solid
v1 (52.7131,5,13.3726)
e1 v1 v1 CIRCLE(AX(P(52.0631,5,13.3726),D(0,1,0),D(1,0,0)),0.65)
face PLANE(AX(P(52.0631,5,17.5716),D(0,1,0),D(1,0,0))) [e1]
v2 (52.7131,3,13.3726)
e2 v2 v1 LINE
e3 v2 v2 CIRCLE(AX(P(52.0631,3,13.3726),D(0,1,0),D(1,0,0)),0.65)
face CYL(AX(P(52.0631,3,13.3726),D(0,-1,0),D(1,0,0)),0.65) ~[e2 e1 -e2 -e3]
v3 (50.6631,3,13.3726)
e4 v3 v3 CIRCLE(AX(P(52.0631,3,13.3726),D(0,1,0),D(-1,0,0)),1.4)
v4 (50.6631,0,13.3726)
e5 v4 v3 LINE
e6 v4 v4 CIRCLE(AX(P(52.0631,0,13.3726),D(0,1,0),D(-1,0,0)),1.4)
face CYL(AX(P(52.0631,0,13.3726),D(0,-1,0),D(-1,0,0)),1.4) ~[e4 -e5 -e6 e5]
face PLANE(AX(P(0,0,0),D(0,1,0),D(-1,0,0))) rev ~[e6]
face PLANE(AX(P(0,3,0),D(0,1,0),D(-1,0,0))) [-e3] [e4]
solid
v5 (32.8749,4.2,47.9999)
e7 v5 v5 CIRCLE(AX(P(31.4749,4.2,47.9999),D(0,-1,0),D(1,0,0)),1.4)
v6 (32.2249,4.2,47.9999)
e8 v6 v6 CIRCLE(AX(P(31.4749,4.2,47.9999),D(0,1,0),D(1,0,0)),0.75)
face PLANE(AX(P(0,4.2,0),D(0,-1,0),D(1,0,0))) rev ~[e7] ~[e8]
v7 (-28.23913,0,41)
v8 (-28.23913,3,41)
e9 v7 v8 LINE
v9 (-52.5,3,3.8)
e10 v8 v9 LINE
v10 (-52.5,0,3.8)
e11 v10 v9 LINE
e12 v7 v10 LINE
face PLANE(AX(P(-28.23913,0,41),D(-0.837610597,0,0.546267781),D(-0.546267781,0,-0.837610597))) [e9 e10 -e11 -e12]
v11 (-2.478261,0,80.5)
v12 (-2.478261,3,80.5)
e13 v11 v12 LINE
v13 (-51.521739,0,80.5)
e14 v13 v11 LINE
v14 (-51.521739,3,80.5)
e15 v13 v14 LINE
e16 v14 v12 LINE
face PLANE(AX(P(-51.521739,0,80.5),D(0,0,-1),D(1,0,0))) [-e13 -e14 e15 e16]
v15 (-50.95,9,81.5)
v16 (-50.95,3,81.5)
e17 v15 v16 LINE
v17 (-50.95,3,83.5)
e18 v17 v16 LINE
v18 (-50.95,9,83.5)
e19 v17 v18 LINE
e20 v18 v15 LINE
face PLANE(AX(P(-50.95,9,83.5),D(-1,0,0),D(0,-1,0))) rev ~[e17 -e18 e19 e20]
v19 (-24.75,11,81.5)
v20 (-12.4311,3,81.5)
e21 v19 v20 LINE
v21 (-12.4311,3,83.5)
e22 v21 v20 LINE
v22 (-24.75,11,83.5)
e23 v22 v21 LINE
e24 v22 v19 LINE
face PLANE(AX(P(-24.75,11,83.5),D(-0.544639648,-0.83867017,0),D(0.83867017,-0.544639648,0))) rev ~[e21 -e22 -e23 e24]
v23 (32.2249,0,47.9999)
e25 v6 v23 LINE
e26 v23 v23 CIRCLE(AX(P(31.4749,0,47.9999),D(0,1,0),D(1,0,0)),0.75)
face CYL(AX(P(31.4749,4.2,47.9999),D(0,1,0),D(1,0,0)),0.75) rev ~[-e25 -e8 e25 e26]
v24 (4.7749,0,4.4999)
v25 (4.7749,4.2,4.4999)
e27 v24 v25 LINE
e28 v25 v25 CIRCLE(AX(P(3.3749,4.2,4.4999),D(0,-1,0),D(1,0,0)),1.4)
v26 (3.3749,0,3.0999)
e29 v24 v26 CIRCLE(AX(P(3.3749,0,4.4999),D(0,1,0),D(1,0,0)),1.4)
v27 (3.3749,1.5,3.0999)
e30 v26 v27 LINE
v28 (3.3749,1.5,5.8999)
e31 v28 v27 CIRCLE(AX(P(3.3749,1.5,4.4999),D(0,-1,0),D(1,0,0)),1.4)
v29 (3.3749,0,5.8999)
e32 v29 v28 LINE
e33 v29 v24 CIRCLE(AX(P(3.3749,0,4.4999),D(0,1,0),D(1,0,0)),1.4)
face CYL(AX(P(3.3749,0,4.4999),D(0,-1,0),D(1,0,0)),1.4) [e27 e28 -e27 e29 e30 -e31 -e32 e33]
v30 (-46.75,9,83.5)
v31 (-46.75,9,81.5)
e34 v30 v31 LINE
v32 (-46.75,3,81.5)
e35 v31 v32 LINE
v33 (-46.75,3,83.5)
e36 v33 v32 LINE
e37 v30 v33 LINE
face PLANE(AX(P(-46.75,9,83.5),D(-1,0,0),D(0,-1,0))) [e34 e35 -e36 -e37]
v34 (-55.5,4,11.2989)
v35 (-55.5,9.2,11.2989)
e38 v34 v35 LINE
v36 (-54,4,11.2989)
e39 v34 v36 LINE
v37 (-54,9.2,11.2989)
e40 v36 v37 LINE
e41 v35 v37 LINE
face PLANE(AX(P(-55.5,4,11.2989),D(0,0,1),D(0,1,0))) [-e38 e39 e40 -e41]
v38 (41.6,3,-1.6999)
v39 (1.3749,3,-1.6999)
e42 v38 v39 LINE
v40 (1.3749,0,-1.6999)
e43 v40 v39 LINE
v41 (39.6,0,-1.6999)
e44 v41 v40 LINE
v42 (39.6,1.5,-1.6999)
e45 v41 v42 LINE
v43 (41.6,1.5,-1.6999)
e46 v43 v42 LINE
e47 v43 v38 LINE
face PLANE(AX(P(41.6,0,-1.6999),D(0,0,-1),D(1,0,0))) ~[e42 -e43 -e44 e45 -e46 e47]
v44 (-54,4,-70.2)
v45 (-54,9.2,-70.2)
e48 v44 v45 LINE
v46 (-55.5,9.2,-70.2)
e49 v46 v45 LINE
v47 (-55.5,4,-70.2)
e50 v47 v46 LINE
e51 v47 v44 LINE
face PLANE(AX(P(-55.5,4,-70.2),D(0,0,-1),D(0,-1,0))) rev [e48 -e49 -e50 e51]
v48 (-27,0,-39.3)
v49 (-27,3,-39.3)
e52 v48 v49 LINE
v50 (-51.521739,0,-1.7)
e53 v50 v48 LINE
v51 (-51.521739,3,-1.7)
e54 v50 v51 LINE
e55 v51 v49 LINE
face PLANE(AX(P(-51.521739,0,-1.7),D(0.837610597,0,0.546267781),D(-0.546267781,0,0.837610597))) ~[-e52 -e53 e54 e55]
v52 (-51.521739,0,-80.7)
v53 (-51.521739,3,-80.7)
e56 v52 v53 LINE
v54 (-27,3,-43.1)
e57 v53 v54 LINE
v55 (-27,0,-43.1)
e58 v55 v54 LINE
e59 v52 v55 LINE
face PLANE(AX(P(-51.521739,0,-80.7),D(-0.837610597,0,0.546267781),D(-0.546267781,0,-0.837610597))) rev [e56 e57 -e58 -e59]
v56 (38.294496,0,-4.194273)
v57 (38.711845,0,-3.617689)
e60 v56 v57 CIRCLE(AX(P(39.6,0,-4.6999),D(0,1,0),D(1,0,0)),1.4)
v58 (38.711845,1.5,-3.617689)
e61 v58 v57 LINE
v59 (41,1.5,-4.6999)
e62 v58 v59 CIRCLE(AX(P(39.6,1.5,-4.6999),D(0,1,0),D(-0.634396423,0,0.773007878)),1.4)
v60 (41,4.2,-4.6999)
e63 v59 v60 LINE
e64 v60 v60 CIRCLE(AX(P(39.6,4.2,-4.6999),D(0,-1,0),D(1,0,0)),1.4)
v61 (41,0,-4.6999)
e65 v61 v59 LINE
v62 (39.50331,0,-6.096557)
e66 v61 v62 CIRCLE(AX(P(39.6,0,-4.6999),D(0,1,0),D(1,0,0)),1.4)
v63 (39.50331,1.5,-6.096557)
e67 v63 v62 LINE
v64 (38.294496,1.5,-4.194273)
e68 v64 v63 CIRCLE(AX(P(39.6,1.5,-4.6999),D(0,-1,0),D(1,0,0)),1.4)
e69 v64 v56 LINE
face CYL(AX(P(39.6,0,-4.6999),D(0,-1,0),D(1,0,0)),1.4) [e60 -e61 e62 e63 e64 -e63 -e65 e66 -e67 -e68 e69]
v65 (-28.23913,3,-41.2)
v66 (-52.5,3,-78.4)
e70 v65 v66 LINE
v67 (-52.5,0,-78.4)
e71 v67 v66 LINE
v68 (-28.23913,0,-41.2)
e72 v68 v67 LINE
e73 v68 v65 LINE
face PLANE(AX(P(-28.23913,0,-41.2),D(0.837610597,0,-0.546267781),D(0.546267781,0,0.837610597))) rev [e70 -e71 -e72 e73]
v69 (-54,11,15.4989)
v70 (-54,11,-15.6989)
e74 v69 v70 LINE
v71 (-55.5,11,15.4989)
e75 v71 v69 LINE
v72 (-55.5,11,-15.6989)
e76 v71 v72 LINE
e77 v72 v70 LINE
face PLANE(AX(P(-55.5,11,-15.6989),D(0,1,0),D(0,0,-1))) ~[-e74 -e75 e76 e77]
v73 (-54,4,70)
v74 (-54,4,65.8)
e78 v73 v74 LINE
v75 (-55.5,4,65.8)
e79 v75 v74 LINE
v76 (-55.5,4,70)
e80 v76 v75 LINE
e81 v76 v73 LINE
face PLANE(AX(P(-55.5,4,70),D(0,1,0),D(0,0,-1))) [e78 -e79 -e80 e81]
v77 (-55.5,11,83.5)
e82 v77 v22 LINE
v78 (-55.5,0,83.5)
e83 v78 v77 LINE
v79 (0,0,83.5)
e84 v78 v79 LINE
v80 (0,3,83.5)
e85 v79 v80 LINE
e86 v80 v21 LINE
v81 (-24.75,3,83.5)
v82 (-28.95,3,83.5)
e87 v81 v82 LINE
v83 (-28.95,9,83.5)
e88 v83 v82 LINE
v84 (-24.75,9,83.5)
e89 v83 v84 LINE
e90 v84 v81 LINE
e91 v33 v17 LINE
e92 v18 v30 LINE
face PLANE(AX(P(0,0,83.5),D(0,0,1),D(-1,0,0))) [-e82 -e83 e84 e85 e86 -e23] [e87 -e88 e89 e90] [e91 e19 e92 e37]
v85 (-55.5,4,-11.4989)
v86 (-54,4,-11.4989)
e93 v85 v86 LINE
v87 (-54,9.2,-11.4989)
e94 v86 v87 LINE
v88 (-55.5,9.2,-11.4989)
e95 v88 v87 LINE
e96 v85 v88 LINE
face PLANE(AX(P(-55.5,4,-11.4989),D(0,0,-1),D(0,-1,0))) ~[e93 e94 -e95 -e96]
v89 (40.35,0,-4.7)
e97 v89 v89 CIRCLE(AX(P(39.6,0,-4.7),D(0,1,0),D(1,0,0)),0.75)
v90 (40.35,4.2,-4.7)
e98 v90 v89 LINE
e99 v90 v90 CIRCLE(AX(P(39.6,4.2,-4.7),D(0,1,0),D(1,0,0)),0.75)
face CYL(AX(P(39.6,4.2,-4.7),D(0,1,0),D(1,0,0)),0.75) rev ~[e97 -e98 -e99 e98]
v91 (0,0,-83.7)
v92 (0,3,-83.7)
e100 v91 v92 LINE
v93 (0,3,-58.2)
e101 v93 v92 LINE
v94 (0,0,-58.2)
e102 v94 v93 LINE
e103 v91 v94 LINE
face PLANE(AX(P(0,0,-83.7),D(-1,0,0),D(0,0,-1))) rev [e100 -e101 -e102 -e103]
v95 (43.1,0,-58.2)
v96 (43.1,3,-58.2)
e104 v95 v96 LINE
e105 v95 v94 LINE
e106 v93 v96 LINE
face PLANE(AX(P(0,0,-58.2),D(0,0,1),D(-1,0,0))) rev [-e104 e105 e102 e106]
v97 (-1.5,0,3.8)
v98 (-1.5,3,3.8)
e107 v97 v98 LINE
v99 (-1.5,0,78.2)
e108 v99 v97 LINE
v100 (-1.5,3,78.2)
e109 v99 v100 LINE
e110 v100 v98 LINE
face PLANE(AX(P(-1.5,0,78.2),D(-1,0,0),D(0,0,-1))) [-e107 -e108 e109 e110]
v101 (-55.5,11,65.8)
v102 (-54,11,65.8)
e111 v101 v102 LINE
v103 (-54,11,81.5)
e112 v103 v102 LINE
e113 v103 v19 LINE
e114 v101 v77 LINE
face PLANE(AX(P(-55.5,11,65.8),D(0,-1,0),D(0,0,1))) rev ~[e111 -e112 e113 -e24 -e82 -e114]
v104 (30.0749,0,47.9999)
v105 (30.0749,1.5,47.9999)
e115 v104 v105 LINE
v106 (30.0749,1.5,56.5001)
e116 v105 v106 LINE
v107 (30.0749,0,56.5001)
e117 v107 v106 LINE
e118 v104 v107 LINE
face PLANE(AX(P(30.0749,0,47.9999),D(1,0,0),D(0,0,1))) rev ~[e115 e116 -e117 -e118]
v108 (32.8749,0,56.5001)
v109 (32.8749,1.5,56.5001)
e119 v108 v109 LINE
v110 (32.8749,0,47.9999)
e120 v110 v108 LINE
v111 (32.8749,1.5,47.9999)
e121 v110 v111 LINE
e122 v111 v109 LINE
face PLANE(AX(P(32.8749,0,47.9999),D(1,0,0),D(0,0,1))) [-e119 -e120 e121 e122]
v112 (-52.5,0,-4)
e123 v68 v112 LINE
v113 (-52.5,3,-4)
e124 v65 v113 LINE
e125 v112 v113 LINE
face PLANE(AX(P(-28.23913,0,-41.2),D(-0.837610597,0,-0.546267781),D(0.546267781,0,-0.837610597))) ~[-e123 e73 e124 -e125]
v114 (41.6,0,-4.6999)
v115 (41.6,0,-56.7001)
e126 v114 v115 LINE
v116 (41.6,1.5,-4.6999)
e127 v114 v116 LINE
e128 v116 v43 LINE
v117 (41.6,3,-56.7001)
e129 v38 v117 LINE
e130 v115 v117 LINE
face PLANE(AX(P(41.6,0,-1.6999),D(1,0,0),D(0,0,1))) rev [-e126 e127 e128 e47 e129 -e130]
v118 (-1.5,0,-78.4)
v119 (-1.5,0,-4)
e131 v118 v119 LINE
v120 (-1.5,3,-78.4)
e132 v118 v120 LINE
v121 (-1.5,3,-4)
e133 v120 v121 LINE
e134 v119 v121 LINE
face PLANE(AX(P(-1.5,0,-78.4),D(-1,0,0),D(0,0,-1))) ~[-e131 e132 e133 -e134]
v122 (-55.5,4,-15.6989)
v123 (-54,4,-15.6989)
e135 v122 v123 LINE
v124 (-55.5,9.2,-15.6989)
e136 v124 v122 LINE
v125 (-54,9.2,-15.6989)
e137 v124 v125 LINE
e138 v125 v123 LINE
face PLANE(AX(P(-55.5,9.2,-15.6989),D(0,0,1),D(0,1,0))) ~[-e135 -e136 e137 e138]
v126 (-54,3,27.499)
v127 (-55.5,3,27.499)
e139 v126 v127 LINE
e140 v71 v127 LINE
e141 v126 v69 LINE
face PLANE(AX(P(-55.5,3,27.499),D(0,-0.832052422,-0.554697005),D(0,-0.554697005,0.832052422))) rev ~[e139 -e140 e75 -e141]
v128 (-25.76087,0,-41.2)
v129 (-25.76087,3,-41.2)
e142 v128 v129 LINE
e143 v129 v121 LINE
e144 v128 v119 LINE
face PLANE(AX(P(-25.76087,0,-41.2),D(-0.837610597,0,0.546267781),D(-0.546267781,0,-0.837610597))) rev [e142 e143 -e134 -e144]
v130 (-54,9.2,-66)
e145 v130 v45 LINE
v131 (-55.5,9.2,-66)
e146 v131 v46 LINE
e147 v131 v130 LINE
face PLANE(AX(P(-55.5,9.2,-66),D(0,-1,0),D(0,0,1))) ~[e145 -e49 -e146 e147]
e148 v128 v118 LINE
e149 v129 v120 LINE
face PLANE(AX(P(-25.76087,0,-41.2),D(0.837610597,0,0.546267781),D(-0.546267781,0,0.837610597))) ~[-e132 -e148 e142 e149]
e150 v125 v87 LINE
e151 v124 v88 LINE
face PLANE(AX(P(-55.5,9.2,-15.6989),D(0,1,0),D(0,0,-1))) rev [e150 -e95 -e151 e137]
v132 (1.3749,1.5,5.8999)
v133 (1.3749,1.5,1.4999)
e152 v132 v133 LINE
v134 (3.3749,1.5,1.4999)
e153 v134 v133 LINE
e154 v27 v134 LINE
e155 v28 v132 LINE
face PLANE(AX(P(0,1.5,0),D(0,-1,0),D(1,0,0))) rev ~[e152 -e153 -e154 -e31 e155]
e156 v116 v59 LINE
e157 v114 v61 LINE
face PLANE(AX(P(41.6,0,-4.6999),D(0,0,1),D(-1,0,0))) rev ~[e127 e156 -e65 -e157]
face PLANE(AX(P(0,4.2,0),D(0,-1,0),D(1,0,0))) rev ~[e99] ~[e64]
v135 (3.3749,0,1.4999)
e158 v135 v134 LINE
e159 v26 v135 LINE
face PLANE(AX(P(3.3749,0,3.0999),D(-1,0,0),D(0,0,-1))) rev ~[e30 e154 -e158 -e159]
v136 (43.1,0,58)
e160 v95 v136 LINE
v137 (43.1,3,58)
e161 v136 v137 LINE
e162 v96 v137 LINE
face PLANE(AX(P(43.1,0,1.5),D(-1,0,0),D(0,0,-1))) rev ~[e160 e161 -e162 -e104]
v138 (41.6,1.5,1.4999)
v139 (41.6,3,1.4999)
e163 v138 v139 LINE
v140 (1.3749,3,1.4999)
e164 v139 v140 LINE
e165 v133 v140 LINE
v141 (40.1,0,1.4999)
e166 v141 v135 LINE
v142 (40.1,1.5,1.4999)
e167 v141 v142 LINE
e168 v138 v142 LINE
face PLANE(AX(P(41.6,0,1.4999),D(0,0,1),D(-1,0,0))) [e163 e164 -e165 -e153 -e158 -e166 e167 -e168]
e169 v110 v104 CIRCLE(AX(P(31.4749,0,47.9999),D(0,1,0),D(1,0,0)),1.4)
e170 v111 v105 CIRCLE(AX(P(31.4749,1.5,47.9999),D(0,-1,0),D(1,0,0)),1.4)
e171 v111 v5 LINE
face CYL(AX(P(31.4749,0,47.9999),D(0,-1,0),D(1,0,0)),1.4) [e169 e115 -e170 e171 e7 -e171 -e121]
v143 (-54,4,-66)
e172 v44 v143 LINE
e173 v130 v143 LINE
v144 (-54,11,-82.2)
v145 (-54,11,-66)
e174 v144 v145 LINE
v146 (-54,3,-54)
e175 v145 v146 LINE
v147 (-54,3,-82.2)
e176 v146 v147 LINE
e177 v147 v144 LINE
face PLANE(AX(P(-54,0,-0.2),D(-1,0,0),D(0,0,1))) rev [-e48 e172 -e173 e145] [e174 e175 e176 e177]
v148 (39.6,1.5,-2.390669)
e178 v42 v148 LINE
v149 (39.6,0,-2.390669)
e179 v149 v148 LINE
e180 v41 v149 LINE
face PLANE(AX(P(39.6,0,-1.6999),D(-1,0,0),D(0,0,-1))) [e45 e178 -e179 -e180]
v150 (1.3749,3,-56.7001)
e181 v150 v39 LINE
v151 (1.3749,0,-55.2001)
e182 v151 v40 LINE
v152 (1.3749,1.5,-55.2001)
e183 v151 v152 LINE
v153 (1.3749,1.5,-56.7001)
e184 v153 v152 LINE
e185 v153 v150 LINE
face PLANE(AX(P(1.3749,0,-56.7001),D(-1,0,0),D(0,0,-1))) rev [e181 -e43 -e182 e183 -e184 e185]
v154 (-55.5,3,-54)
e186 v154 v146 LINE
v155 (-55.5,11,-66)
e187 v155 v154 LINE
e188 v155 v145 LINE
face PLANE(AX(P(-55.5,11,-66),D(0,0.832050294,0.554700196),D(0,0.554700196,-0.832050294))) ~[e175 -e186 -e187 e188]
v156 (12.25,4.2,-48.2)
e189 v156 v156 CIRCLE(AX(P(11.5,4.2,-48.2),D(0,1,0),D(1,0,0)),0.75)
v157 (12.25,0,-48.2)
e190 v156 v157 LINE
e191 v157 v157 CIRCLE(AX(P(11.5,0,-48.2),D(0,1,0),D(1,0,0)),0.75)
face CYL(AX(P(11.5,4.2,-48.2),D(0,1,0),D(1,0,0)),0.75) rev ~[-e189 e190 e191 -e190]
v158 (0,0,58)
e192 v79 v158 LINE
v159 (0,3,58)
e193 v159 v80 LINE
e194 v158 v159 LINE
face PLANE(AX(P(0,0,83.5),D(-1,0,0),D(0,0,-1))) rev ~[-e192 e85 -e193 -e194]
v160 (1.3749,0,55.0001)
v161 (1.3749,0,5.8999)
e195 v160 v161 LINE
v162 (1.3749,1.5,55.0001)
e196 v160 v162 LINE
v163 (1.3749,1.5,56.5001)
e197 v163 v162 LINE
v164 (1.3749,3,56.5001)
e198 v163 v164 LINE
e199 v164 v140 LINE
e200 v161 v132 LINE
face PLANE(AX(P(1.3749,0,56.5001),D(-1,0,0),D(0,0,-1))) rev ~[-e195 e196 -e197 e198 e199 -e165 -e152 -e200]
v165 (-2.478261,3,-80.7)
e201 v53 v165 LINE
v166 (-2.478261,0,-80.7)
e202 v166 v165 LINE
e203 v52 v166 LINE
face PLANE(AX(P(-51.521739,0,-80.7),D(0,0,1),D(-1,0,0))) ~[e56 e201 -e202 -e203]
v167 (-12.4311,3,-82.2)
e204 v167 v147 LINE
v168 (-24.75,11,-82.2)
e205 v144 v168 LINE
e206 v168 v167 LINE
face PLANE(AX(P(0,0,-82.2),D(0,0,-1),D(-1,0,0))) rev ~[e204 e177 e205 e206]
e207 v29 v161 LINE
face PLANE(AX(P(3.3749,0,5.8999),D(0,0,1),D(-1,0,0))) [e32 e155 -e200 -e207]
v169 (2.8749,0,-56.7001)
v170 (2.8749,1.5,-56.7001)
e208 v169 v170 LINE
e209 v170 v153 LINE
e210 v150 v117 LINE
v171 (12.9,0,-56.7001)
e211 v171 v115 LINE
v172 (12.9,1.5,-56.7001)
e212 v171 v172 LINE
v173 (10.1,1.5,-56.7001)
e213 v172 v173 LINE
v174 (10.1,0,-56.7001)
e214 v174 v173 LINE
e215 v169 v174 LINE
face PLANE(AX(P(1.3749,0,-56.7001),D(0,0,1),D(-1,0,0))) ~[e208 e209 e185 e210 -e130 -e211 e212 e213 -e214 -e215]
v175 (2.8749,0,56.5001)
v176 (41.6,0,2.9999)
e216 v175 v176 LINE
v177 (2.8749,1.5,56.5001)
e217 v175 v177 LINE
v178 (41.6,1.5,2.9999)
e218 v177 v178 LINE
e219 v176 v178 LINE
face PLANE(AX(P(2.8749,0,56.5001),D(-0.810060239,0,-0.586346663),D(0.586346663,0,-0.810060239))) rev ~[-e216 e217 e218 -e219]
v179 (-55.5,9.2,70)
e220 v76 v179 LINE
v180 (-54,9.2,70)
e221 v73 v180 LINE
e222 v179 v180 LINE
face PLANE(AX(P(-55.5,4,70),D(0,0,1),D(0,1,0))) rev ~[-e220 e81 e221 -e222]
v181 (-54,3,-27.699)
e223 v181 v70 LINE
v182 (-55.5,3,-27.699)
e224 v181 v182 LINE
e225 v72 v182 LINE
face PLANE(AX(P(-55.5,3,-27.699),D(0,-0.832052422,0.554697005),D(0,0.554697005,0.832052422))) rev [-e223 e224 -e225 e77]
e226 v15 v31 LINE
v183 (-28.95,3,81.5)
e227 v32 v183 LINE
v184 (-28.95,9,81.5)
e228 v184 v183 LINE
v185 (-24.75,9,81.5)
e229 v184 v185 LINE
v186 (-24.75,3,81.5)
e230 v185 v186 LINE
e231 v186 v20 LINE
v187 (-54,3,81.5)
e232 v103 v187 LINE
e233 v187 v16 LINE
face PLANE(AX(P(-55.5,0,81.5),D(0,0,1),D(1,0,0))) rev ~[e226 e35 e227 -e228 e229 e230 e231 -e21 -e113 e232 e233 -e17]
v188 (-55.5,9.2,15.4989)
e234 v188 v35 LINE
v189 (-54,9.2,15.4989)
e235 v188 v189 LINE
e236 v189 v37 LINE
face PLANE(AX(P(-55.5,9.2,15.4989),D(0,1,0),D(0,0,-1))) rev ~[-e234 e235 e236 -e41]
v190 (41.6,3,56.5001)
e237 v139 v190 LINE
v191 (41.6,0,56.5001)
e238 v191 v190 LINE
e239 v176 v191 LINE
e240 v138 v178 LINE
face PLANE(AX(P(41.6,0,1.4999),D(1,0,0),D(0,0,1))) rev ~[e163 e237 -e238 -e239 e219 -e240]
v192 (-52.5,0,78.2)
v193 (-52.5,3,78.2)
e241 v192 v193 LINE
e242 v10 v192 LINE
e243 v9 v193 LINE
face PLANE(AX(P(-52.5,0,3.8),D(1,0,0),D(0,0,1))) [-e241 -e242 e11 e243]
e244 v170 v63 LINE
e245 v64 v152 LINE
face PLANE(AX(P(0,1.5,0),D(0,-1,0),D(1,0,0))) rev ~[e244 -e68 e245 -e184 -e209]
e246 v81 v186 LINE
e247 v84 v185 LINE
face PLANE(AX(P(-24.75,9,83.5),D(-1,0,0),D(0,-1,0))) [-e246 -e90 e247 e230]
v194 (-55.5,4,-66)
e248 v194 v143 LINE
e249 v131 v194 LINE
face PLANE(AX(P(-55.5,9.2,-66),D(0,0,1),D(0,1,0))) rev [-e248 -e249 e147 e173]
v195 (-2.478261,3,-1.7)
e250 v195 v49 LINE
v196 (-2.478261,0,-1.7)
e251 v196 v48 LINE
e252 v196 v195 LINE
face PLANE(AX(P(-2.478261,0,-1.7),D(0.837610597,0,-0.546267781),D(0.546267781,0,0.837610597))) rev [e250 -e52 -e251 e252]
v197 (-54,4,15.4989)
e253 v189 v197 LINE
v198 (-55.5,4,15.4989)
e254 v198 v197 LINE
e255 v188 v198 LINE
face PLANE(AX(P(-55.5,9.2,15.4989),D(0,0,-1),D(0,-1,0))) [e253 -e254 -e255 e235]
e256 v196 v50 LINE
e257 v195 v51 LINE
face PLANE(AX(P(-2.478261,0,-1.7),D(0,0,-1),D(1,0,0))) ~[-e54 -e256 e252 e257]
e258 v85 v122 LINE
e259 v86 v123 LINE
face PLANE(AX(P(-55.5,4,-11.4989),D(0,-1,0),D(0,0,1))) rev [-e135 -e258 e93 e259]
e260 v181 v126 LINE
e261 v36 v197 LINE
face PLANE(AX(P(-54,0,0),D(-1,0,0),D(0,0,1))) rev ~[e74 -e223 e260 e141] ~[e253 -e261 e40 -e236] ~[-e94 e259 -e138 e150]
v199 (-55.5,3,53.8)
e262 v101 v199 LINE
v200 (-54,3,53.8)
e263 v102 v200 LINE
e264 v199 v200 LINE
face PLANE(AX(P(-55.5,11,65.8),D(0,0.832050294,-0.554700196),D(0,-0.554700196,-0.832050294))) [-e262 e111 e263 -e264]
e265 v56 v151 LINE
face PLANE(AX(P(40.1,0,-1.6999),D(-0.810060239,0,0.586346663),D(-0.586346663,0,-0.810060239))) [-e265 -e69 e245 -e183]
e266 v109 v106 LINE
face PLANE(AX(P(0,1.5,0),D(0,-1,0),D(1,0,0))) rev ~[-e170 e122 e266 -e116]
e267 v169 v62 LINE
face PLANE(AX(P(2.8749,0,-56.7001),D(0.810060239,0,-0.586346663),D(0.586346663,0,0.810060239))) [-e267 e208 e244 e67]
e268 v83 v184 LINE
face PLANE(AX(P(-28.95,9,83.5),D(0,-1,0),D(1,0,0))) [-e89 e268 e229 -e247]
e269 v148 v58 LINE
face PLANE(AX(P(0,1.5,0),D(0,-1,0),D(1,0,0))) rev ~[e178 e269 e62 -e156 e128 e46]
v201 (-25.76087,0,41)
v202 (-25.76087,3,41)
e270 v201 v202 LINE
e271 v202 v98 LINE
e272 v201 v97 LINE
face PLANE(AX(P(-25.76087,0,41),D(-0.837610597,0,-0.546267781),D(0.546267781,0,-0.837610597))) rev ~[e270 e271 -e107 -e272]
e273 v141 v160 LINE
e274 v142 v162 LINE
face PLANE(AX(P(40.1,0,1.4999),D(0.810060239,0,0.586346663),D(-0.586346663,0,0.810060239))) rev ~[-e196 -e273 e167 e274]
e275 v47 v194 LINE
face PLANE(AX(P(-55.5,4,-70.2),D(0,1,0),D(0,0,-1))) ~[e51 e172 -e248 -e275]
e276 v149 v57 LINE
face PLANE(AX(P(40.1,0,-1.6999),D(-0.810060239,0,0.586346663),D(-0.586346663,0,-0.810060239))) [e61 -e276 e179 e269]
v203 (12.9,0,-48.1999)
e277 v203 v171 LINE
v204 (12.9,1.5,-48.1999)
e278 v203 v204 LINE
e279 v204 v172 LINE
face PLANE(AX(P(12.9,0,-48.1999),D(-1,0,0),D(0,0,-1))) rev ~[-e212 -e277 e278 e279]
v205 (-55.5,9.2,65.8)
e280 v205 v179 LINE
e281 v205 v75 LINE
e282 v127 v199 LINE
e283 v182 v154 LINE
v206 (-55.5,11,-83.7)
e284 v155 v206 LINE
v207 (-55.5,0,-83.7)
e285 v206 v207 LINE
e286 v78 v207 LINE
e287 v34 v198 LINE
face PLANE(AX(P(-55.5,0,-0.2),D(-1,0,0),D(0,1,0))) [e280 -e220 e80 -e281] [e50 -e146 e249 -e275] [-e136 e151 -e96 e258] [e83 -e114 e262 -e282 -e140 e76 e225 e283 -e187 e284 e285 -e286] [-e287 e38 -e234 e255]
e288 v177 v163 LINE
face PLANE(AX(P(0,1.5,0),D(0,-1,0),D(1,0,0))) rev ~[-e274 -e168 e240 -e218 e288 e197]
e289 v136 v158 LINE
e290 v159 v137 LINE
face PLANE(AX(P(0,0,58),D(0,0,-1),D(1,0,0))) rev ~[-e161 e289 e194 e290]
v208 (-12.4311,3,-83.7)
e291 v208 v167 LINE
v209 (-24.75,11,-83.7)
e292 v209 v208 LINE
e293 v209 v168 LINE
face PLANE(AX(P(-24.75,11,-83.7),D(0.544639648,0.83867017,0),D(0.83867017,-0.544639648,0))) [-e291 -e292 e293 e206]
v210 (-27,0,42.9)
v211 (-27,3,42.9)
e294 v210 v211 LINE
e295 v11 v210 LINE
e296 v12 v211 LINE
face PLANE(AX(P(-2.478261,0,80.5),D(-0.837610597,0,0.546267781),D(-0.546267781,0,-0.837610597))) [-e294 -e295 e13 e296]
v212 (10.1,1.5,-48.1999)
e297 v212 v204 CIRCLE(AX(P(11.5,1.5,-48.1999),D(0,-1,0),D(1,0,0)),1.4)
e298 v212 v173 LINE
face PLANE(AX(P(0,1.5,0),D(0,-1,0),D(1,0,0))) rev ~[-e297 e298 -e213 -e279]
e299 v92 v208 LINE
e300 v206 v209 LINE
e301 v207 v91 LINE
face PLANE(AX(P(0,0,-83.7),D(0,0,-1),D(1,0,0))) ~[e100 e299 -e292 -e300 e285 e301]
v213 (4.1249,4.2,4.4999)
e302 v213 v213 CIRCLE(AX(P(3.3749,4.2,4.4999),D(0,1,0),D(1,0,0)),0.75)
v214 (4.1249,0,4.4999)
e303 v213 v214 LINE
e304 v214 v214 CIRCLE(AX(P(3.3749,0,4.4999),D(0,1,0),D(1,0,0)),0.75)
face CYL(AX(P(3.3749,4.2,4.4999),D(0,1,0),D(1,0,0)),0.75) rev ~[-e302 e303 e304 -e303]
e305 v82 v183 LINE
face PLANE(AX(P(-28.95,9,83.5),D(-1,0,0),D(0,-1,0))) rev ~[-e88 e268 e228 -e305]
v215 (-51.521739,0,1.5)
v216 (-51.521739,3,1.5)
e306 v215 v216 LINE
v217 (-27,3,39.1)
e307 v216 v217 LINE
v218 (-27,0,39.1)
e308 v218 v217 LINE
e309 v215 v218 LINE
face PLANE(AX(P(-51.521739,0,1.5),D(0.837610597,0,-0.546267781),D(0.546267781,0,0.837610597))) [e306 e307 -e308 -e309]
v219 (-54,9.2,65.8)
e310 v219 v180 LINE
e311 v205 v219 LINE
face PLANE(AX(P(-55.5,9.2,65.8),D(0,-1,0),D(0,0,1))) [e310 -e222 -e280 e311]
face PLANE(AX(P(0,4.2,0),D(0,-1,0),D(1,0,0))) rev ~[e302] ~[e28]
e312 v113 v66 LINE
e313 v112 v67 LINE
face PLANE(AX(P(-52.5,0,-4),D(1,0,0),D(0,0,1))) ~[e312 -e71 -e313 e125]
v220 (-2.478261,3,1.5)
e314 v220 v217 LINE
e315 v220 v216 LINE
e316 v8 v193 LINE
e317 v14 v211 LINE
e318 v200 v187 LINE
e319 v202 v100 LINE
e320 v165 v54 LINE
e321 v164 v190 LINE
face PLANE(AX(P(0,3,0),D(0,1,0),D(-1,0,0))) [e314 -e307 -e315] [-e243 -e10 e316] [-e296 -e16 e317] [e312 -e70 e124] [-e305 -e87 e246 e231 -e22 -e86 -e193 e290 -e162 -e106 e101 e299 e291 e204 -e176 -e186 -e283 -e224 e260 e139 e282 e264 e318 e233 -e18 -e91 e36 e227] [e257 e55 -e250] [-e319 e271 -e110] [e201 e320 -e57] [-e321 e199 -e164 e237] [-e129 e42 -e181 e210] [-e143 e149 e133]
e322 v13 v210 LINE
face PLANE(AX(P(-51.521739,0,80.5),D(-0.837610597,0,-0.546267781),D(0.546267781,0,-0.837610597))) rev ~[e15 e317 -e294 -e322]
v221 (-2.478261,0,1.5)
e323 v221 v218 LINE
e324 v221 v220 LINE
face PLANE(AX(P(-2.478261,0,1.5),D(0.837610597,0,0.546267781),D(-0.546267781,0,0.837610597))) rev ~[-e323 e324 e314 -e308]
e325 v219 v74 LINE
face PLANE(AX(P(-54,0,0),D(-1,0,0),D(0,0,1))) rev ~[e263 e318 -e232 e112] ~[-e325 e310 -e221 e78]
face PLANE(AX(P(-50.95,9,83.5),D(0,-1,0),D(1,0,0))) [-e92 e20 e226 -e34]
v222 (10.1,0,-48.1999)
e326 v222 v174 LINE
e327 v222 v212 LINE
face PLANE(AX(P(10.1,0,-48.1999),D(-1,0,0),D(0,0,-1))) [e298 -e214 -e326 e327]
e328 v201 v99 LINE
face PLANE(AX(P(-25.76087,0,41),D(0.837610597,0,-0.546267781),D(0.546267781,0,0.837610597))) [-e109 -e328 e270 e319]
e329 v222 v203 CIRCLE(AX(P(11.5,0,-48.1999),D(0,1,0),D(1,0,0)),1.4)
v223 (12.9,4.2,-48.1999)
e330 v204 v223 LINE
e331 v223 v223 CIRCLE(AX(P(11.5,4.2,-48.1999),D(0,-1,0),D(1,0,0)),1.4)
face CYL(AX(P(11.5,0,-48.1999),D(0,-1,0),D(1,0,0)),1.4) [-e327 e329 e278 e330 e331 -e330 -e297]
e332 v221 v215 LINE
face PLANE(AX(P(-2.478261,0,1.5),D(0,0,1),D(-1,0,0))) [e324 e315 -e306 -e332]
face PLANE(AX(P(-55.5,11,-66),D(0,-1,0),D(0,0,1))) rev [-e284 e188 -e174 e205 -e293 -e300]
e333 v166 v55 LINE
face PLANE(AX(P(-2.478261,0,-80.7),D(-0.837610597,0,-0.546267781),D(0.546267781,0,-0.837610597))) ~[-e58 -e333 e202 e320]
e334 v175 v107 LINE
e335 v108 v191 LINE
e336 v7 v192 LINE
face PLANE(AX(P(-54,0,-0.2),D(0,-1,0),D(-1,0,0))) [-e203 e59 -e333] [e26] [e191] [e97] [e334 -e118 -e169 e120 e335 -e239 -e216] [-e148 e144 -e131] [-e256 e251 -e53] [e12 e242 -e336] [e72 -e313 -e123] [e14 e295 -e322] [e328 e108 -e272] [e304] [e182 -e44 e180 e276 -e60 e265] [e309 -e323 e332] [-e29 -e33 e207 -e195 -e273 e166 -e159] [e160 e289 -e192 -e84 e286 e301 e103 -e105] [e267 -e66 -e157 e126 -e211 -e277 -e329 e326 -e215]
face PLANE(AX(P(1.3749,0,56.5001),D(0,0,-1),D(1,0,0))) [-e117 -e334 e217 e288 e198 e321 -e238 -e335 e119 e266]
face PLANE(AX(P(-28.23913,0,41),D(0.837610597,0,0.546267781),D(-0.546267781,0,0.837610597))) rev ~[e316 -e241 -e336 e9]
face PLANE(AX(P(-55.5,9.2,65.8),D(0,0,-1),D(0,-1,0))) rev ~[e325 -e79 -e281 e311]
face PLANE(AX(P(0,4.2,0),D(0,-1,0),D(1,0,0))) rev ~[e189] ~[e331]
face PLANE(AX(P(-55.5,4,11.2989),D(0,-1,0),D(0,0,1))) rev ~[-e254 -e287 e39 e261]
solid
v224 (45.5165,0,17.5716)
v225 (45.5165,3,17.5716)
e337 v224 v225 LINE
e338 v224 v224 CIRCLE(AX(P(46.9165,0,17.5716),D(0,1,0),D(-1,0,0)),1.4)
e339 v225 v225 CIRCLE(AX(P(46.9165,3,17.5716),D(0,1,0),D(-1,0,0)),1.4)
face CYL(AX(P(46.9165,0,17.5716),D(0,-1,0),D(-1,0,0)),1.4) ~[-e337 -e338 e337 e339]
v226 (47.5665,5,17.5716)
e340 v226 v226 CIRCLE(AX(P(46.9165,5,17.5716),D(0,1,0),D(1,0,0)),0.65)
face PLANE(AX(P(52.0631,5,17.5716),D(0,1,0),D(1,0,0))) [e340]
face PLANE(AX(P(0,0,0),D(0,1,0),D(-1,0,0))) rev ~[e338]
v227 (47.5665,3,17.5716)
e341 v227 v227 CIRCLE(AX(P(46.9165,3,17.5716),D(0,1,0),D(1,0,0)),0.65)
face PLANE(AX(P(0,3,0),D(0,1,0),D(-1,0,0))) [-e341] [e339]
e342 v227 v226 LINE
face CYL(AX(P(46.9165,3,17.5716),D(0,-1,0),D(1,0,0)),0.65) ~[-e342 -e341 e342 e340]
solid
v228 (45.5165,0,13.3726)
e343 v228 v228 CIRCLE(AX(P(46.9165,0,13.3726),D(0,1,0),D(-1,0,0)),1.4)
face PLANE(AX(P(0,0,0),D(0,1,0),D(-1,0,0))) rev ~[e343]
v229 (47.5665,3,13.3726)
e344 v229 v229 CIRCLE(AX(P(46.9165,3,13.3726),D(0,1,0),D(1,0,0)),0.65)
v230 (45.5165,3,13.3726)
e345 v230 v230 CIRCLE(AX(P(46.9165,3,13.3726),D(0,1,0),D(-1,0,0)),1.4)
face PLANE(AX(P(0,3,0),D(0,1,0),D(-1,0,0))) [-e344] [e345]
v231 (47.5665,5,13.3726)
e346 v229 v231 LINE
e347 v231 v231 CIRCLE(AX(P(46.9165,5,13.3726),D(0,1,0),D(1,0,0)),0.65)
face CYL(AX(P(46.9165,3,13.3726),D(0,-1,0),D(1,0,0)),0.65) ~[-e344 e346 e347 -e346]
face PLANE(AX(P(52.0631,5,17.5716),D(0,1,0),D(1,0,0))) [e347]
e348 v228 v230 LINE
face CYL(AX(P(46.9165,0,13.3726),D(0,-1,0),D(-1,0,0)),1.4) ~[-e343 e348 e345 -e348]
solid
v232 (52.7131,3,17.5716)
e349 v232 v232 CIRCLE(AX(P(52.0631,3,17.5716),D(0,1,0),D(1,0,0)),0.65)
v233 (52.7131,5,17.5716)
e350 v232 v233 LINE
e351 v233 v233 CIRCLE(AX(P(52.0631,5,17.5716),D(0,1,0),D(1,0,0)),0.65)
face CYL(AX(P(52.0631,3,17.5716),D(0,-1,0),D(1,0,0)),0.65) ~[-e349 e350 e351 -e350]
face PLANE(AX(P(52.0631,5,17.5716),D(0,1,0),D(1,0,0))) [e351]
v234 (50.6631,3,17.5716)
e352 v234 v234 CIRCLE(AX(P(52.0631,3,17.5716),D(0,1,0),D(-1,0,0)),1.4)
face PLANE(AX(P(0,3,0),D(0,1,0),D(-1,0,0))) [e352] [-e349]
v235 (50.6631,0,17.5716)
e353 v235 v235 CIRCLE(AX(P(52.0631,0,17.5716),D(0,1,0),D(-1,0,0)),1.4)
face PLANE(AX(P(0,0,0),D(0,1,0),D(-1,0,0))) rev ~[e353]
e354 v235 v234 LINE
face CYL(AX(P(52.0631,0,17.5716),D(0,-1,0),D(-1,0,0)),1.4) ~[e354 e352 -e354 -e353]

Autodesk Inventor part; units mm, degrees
ref_plane "YZ Plane" through (0, 0, 0) normal (1, 0, 0) x (0, 1, 0)
ref_plane "XZ Plane" through (0, 0, 0) normal (0, 1, 0) x (-1, 0, 0)
ref_plane "XY Plane" through (0, 0, 0) normal (0, 0, 1) x (1, 0, 0)
sketch "Sketch1" plane through (0, 0, 0) normal (0, 1, 0) x (-1, 0, 0)
  line L0 (54, 0) -> (55.5, 0)
  line L1 (55.5, 0) -> (55.5, 82)
  line L2 (55.5, 82) -> (55.5, 83.5)
  line L3 (55.5, 83.5) -> (54, 83.5)
  line L4 (0, 83.5) -> (0, 82)
  line L5 (54, 82) -> (54, 80.5)
  line L6 (54, 82) -> (52.5, 82)
  line L7 (54, 0) -> (54, 1.5)
  line L8 (54, 1.5) -> (54, 80.5)
  line L9 (54, 0) -> (52.5, 0)
  line L10 (0, 1.5) -> (0, 0)
  line L11 (0, 0) -> (1.5, 0)
  line L12 (52.5, 82) -> (0, 1.5)
  line L13 (1.5, 0) -> (54, 80.5)
  line L14 (0, 83.5) -> (1.5, 83.5)
  line L15 (54, 83.5) -> (0, 83.5)
  line L16 (0, 82) -> (1.5, 82)
  line L17 (0, 82) -> (0, 80.5)
  line L18 (52.5, 82) -> (1.5, 82)
  line L19 (52.5, 0) -> (0, 80.5)
  line L20 (1.5, 82) -> (54, 1.5)
  line L21 (0, 0) -> (0, -0.1)
  line L22 (54, 0) -> (54, -0.1)
  line L23 (0, 0) -> (-43.1, 0)
  line L24 (0, 58) -> (0, 56.5)
  line L25 (0, 56.5) -> (0, 1.5)
  line L26 (-43.1, 1.5) -> (-43.1, 0)
  line L27 (-43.1, 58) -> (-43.1, 56.5)
  line L28 (-43.1, 56.5) -> (-43.1, 1.5)
  line L29 (0, 80.5) -> (0, 58)
  line L30 (1.5, 1.5) -> (52.5, 1.5)
  line L31 (52.5, 1.5) -> (52.5, 80.5)
  line L32 (0, 58) -> (-1.5, 58)
  line L33 (-43.1, 58) -> (-41.6, 58)
  line L34 (-1.5, 58) -> (-41.6, 58)
  line L35 (-41.6, 1.4999) -> (-1.3749, 1.4999)
  line L36 (-41.6, 1.4999) -> (-41.6, 56.5001)
  line L37 (52.5, 0) -> (1.5, 0)
  line L38 (55.5, 0) -> (55.5, -0.1)
  line L39 (52.5, 80.5) -> (1.5, 80.5)
  line L40 (1.5, 80.5) -> (1.5, 1.5)
  line L41 (-1.3749, 56.5001) -> (-41.6, 56.5001)
  line L42 (-1.3749, 56.5001) -> (-1.3749, 1.4999)
  line L43 (54, -0.1) -> (0, -0.1)
  line L44 (0, -0.1) -> (-43.1, -0.1)
  line L45 (-43.1, -0.1) -> (-43.1, 0)
  line L46 (54, -0.1) -> (55.5, -0.1)
  point P0 (27, 39.1)
  point P1 (51.5217, 1.5)
  point P2 (2.4783, 1.5)
  point P3 (25.7609, 41)
  point P4 (1.5, 3.8)
  point P5 (1.5, 78.2)
  point P6 (28.2391, 41)
  point P7 (52.5, 78.2)
  point P8 (52.5, 3.8)
  point P9 (27, 42.9)
  point P10 (2.4783, 80.5)
  point P11 (51.5217, 80.5)
  dimension "d0" = 82
  dimension "d1" = 54
  dimension "d2" = 82
  dimension "d3" = 1.5
  dimension "d4" = 1.5
  dimension "d5" = 1.5
  dimension "d6" = 1.5
  dimension "d8" = 1.5
  dimension "d9" = 1.5
  dimension "d10" = 1.5
  dimension "d12" = 1.5
  dimension "d13" = 1.5
  dimension "d14" = 1.5
  dimension "d15" = 1.5
  dimension "d16" = 1.5
  dimension "d17" = 0.1
  dimension "d18" = 0.1
  dimension "d19" = 43.1
  dimension "d20" = 58
  dimension "d21" = 1.5
  dimension "d22" = 1.5
  dimension "d23" = 55
  dimension "d24" = 1.5
  dimension "d25" = 1.5
  dimension "d26" = 51
  dimension "d27" = 54
  dimension "d28" = 51
  dimension "d31" = 40.2251
  dimension "d33" = 55.0001
  dimension "d34" = 1.5
  dimension "d35" = 0.1
  dimension "d37" = 1.5
  dimension "d38" = 1.4999
  dimension "d39" = 1.5
extrude "Extrusion1" add sketch "Sketch1" along normal blind 3 contours L7 L8 L5 L6 L18 L16 L4 L14 L15 L3 L2 L1 L0 | L9 L19 L30 L31 L20 L7 | L22 L43 L21 L11 L37 L9 | L20 L31 L13 L8 | L37 L13 L30 L19 | L13 L31 L39 L12 L6 L5 | L31 L30 L19 L13 L20 | L11 L10 L12 L40 L30 L13 | L44 L45 L23 L21 | L13 L20 L12 L39 L31 | L13 L19 L12 L20 | L13 L30 L40 L12 L19 | L23 L26 L28 L27 L33 L34 L32 L24 L25 L10 | L12 L39 L20 L18 | L12 L19 L40 L39 L20 | L25 L24 L29 L19 L40 L12 | L20 L39 L40 L19 L17 L16
sketch "Sketch3" plane through (-55.5, 0, 0) normal (-1, 0, 0) x (0, 0, 1)
  line L0 (3.8, 3) -> (78.2, 3) projected
  line L1 (11.2989, 4) -> (11.2989, 11)
  line L2 (11.2989, 4) -> (15.4989, 4)
  line L3 (15.4989, 11) -> (11.2989, 11)
  line L4 (15.4989, 11) -> (15.4989, 9.2)
  line L5 (15.4989, 9.2) -> (15.4989, 4)
  line L6 (15.4989, 9.2) -> (11.2989, 9.2)
  line L7 (58, 3) -> (0, 3) projected
  line L8 (11.2989, 11) -> (-0.7359, 2.9768)
  line L9 (15.4989, 11) -> (27.5338, 2.9768)
  line L10 (0, 3) -> (40.25, 3) construction
  line L11 (40.25, 3) -> (40.25, 23.325) construction
  line L12 (27.5338, 2.9768) -> (-0.7359, 2.9768)
  line L13 (70, 4) -> (70, 11)
  line L14 (70, 4) -> (65.8, 4)
  line L15 (65.8, 11) -> (70, 11)
  line L16 (65.8, 11) -> (65.8, 9.2)
  line L17 (65.8, 9.2) -> (65.8, 4)
  line L18 (65.8, 9.2) -> (70, 9.2)
  line L19 (65.8, 11) -> (53.8, 3)
  line L20 (56.5001, 0) -> (56.5001, 3) projected
  line L21 (83.5, 3) -> (58, 3) projected
  line L22 (56.5001, 3) -> (83.5, 3)
  line L23 (83.5, 3) -> (83.5, 11)
  line L24 (83.5, 11) -> (70, 11)
  line L25 (58, 3) -> (-0.1, 3) projected
  line L26 (55.3, 3) -> (58, 3)
  line L27 (55.3, 3) -> (83.5, 3)
  line L28 (53.8, 3) -> (55.3, 3)
  line L29 (0, 3) -> (-0.1, 3)
  line L30 (-0.1, 3) -> (0, 3) construction
  line L31 (-0.1, 3) -> (0, 3) construction
  line L32 (0, 3) -> (-0.1, 3) construction
  line L33 (83.5, 4) -> (15.5, 4) construction
  point P0 (0, 0)
  point P1 (80.5, 3)
  point P2 (53.8, 3)
  point P3 (27.4989, 3)
  point P4 (70, 11)
  point P5 (0, 3)
  point P6 (27.4989, 3)
  dimension "d45" = 4.2
  dimension "d47" = 5.2
  dimension "d49" = 1
  dimension "d50" = 7
  dimension "d52" = 33.69
  dimension "d55" = 1.8
  dimension "d56" = 33.69
  dimension "d57" = 40.25
  dimension "d93" = 8
  dimension "d94" = 13.5
  dimension "d95" = 33.69
  dimension "d96" = 4.2
  dimension "d97" = 4.2
  dimension "d98" = 1.8
  dimension "d99" = 12
  dimension "d100" = 5.2
  dimension "d101" = 7
  dimension "d102" = 4.2
  dimension "d103" = 1
  dimension "d104" = 90
  dimension "d112" = 68
extrude "Extrusion2" add sketch "Sketch3" against normal blind 1.5 contours L19 L16 L17 L14 L13 L24 L23 L21 L0 | L9 L12 L8 L1 L2 L5 L4 | L15 L13 L18 L16 | L4 L6 L1 L3
extrude "Extrusion3" add sketch "Sketch1" along normal blind 3 contours L0 L38 L46 L22
mirror "Mirror1" about plane through (43.1, 0, -0.1) normal (0, 0, -1) of "Extrusion1", "Extrusion2"
sketch "Sketch4" plane through (-55.5, 0, 83.5) normal (0, 0, 1) x (1, 0, 0)
  line L0 (1.5, 0) -> (0, 0) projected
  line L1 (0, 0) -> (0, 11) projected
  line L2 (0, 0) -> (0, 11)
  line L3 (0, 11) -> (1.5, 11) projected
  line L4 (0, 11) -> (1.5, 11)
  line L5 (1.5, 11) -> (4.55, 11)
  line L6 (4.55, 11) -> (4.55, 4.6854)
  line L7 (4.55, 4.6854) -> (4.55, 0)
  line L8 (3.9783, 3) -> (53.0217, 3) projected
  line L9 (4.55, 3) -> (0, 3)
  line L10 (1.5, 3.4007) -> (1.5, 11) projected
  line L11 (1.5, 11) -> (1.5, 3)
  line L12 (4.55, 9) -> (8.75, 9)
  line L13 (4.55, 11) -> (8.75, 11)
  line L14 (8.75, 11) -> (8.75, 3)
  line L15 (8.75, 11) -> (26.55, 11)
  line L16 (26.55, 11) -> (26.55, 3)
  line L17 (26.55, 11) -> (30.75, 11)
  line L18 (26.55, 9) -> (32.35, 9)
  line L19 (30.75, 11) -> (30.75, 3)
  line L20 (30.75, 11) -> (43.0689, 3)
  line L21 (53.0217, 3) -> (3.9783, 3) projected
  point P0 (55.5, 0)
  point P1 (30.75, 9)
  dimension "d62" = 3.05
  dimension "d64" = 4.2
  dimension "d65" = 2
  dimension "d66" = 4.2
  dimension "d67" = 17.8
  dimension "d68" = 4.2
  dimension "d69" = 2
  dimension "d70" = 33
extrude "Extrusion4" add sketch "Sketch4" against normal blind 2 contours L11 L10 L5 L6 L7 L8 L9 | L13 L14 L12 L6 | L15 L16 L8 L14 | L17 L19 L18 L16 | L20 L8 L19
sketch "Sketch5" plane through (0, 0, -83.7) normal (0, 0, -1) x (-1, 0, 0)
  line L0 (55.5, 11) -> (54, 11) projected
  line L1 (54, 11) -> (24.75, 11) projected
  line L2 (55.5, 11) -> (24.75, 11)
  line L3 (24.75, 11) -> (12.4311, 3) projected
  line L4 (24.75, 11) -> (12.4311, 3)
  line L5 (12.4311, 3) -> (55.5, 3)
  line L6 (55.5, 3) -> (55.5, 11)
  point P0 (0, 0)
extrude "Extrusion5" add sketch "Sketch5" against normal blind 1.5
sketch "Sketch6" plane through (0, 0, 0) normal (0, -1, 0) x (1, 0, 0)
  line L0 (1.3749, 56.5001) -> (1.3749, 1.4999) construction
  line L1 (1.3749, 1.4999) -> (3.3749, 1.4999) construction
  line L2 (1.3749, 1.4999) -> (41.6, 1.4999) construction
  line L3 (1.3749, 1.4999) -> (1.3749, 4.4999) construction
  line L4 (1.3749, 4.4999) -> (3.3749, 4.4999) construction
  circle A0 centre (3.3749, 4.4999) radius 1.4 construction
  line L5 (3.3749, 5.8999) -> (1.3749, 5.8999) construction
  line L6 (3.3749, 3.0999) -> (3.3749, 1.4999) construction
  line L7 (3.3749, 3.0999) -> (3.3749, 1.4999)
  line L8 (3.3749, 5.8999) -> (1.3749, 5.8999)
  line L9 (1.3749, 5.8999) -> (1.3749, 1.4999)
  line L10 (3.3749, 1.4999) -> (1.3749, 1.4999)
  circle A1 centre (3.3749, 4.4999) radius 1.4
  line L11 (3.3749, 4.4999) -> (3.3749, 47.9999) construction
  line L12 (3.3749, 47.9999) -> (31.4749, 47.9999) construction
  circle A2 centre (31.4749, 47.9999) radius 1.4
  line L13 (32.8749, 47.9999) -> (32.8749, 56.5001)
  line L14 (30.0749, 47.9999) -> (30.0749, 56.5001)
  line L15 (41.6, 56.5001) -> (1.3749, 56.5001) projected
  line L16 (43.1, 58) -> (43.1, -58.2) construction
  line L17 (43.1, -0.1) -> (0, -0.1) construction
  line L18 (1.3749, -1.6999) -> (3.3749, -1.6999) construction
  line L19 (1.3749, -1.6999) -> (1.3749, -4.6999) construction
  line L20 (1.3749, -6.0999) -> (1.3749, -1.6999)
  line L21 (32.8749, -56.7001) -> (30.0749, -56.7001)
  line L22 (41.6, -56.7001) -> (1.3749, -56.7001) projected
  line L23 (32.8749, 56.5001) -> (30.0749, 56.5001)
  line L24 (1.3749, -1.6999) -> (41.6, -1.6999) construction
  line L25 (41.6, -1.6999) -> (38.4273, -1.6999) construction
  line L26 (41.6, -1.6999) -> (41.6, -3.8999) construction
  line L27 (41.6, -1.6999) -> (41.6, -56.7001) construction
  line L28 (41.6, -1.6999) -> (41.6, -4.6999)
  line L29 (41.6, -1.6999) -> (39.6, -1.6999)
  line L30 (39.6, -1.6999) -> (39.6, -4.6999)
  circle A3 centre (39.6, -4.6999) radius 1.4
  line L31 (39.6, -4.6999) -> (11.5, -4.6999) construction
  line L32 (11.5, -4.6999) -> (11.5, -48.1999) construction
  circle A4 centre (11.5, -48.1999) radius 1.4
  line L33 (10.1, -48.1999) -> (10.1, -56.7001)
  line L34 (12.9, -48.1999) -> (12.9, -56.7001)
  line L35 (12.9, -56.7001) -> (10.1, -56.7001)
  line L36 (41.6, -4.6999) -> (39.6, -4.6999)
  line L37 (41.6, -1.6999) -> (41.6, -56.7001) projected
  line L38 (39.6, -1.6999) -> (39.6, -4.6999)
  line L39 (1.3749, -1.6999) -> (41.6, -1.6999) projected
  point P0 (0, 0)
  point P1 (41, -4.6999)
  point P2 (39.6, -3.2999)
  dimension "d75" = 2
  dimension "d76" = 3
  dimension "d77" = 2.8
  dimension "d78" = 43.5
  dimension "d79" = 28.1
  dimension "d80" = 2.8
  dimension "d115" = 3
  dimension "d116" = 2
  dimension "d117" = 2.8
  dimension "d118" = 28.1
  dimension "d119" = 43.5
  dimension "d120" = 2.8
extrude "Extrusion6" add sketch "Sketch6" against normal blind 1.5 contours L7 L10 L9 L8 A1 | A2 L14 L15 L13 | L22 L33 A4 L34 | L36 A3 L30 L29 L28
extrude "Extrusion7" add sketch "Sketch6" against normal blind 4.2 contours A1 | A2 | A4 | L36 L30 A3 | A3 L30 L36
sketch "Sketch7" plane through (0, 0, 0) normal (0, -1, 0) x (1, 0, 0)
  line L0 (41.6, 1.4999) -> (41.6, 2.9999)
  line L1 (41.6, 1.4999) -> (40.1, 1.4999)
  line L2 (3.3749, 1.4999) -> (41.6, 1.4999) projected
  line L3 (30.0749, 56.5001) -> (1.3749, 56.5001) projected
  line L4 (1.3749, 56.5001) -> (2.8749, 56.5001)
  line L5 (1.3749, 56.5001) -> (1.3749, 55.0001)
  line L6 (1.3749, 56.5001) -> (1.3749, 5.8999) projected
  line L7 (2.8749, 56.5001) -> (41.6, 2.9999)
  line L8 (40.1, 1.4999) -> (1.3749, 55.0001)
  line L9 (43.1, 58) -> (43.1, -58.2) construction
  line L10 (43.1, -0.1) -> (0, -0.1) construction
  line L11 (41.6, -1.6999) -> (41.6, -3.1999)
  line L12 (41.6, -1.6999) -> (40.1, -1.6999)
  line L13 (30.0749, -56.7001) -> (1.3749, -56.7001)
  line L14 (1.3749, -56.7001) -> (1.3749, -55.2001)
  line L15 (2.8749, -56.7001) -> (41.6, -3.1999)
  line L16 (40.1, -1.6999) -> (1.3749, -55.2001)
  point P0 (0, 0)
  dimension "d85" = 1.5
  dimension "d86" = 1.5
  dimension "d87" = 1.5
  dimension "d88" = 1.5
extrude "Extrusion8" add sketch "Sketch7" against normal blind 1.5
extrude "Extrusion9" add sketch "Sketch3" against normal blind 1.5 contours L19 L16 L17 L14 L13 L24 L23 L21 L0
sketch "Sketch13" plane through (-55.5, 0, -0.2) normal (0, 0, 1) x (1, 0, 0)
  line L0 (0, 11) -> (0, 3.4007) projected
  line L1 (1.5, 0) -> (1.5, 2.9768) projected
  line L2 (0, 3.4007) -> (1.5, 3.4007)
  line L3 (1.5, 3.4007) -> (1.5, 0)
  line L4 (1.5, 0) -> (0, 0)
  line L5 (0, 0) -> (0, 3.4007)
  point P0 (55.5, 0)
  point P1 (1.5, 3)
extrude "Extrusion11" add sketch "Sketch13" along normal blind 0.1
sketch "Sketch14" plane through (-55.5, 11, 11.2989) normal (-1, 0, 0) x (0, 0, 1)
  line L0 (-11.3989, -7.5993) -> (-22.7979, 0) projected
  line L1 (0, 0) -> (4.2, 0) projected
  line L2 (-22.7979, 0) -> (0, 0)
  line L3 (0, 0) -> (-11.3989, -7.5993)
  line L4 (-11.3989, -7.5993) -> (-22.7979, 0)
  point P0 (-11.2989, -11)
extrude "Extrusion12" add sketch "Sketch14" against normal blind 1.5
sketch "Sketch16" plane through (31.4749, 4.2, 47.9999) normal (0, 1, 0) x (1, 0, 0)
  circle A0 centre (0, 0) radius 0.75
  circle A1 centre (0, 0) radius 1.4 projected
  circle A2 centre (-28.1, 43.5) radius 0.75
  circle A3 centre (8.1251, 52.6999) radius 0.75
  circle A4 centre (-19.9749, 96.1999) radius 1.4 projected
  circle A5 centre (-19.9749, 96.1999) radius 0.75
  circle A6 centre (8.1251, 52.6999) radius 1.4 projected
  circle A7 centre (-28.1, 43.5) radius 1.4 projected
  point P0 (-31.4749, 47.9999)
  dimension "d121" = 1.5
  dimension "d122" = 0.65
  dimension "d123" = 1.5
  dimension "d124" = 1.5
  dimension "d125" = 0.65
  dimension "d126" = 1.5
  dimension "d128" = 0
sketch "Sketch17" plane through (0, 0, 0) normal (0, 1, 0) x (-1, 0, 0)
  circle A0 centre (-46.9165, 17.5716) radius 1.4
  circle A1 centre (-46.9165, 13.3726) radius 1.4
  circle A2 centre (-52.0631, 13.3726) radius 1.4
  circle A3 centre (-52.0631, 17.5716) radius 1.4
  point P0 (0, 0)
  dimension "d129" = 2.8
  dimension "d130" = 2.8
  dimension "d131" = 2.8
  dimension "d132" = 2.8
extrude "Extrusion13" add sketch "Sketch17" along normal blind 3
sketch "Sketch18" plane through (52.0631, 3, 17.5716) normal (0, 1, 0) x (1, 0, 0)
  circle A0 centre (-5.1466, 4.199) radius 0.65
  circle A1 centre (0, 4.199) radius 0.65
  circle A2 centre (0, 0) radius 0.65
  circle A3 centre (-5.1466, 0) radius 0.65
  circle A4 centre (0, 0) radius 1.4 projected
  circle A5 centre (-5.1466, 0) radius 1.4 projected
  circle A6 centre (-5.1466, 4.199) radius 1.4 projected
  circle A7 centre (0, 4.199) radius 1.4 projected
  point P0 (-52.0631, 17.5716)
  dimension "d135" = 1.3
  dimension "d136" = 1.3
  dimension "d137" = 1.3
  dimension "d138" = 1.3
  dimension "d139" = 0.75
  dimension "d140" = 0
  dimension "d141" = 0
  dimension "d142" = 0.75
  dimension "d143" = 0.75
extrude "Extrusion14" add sketch "Sketch18" along normal blind 2 contours A0 | A1 | A2 | A3
extrude "Extrusion15" cut sketch "Sketch16" against normal through all contours A0 | A2 | A3 | A5
equation "\"d56\" = d52"
properties part number "Wexterås-Hållare v2"
